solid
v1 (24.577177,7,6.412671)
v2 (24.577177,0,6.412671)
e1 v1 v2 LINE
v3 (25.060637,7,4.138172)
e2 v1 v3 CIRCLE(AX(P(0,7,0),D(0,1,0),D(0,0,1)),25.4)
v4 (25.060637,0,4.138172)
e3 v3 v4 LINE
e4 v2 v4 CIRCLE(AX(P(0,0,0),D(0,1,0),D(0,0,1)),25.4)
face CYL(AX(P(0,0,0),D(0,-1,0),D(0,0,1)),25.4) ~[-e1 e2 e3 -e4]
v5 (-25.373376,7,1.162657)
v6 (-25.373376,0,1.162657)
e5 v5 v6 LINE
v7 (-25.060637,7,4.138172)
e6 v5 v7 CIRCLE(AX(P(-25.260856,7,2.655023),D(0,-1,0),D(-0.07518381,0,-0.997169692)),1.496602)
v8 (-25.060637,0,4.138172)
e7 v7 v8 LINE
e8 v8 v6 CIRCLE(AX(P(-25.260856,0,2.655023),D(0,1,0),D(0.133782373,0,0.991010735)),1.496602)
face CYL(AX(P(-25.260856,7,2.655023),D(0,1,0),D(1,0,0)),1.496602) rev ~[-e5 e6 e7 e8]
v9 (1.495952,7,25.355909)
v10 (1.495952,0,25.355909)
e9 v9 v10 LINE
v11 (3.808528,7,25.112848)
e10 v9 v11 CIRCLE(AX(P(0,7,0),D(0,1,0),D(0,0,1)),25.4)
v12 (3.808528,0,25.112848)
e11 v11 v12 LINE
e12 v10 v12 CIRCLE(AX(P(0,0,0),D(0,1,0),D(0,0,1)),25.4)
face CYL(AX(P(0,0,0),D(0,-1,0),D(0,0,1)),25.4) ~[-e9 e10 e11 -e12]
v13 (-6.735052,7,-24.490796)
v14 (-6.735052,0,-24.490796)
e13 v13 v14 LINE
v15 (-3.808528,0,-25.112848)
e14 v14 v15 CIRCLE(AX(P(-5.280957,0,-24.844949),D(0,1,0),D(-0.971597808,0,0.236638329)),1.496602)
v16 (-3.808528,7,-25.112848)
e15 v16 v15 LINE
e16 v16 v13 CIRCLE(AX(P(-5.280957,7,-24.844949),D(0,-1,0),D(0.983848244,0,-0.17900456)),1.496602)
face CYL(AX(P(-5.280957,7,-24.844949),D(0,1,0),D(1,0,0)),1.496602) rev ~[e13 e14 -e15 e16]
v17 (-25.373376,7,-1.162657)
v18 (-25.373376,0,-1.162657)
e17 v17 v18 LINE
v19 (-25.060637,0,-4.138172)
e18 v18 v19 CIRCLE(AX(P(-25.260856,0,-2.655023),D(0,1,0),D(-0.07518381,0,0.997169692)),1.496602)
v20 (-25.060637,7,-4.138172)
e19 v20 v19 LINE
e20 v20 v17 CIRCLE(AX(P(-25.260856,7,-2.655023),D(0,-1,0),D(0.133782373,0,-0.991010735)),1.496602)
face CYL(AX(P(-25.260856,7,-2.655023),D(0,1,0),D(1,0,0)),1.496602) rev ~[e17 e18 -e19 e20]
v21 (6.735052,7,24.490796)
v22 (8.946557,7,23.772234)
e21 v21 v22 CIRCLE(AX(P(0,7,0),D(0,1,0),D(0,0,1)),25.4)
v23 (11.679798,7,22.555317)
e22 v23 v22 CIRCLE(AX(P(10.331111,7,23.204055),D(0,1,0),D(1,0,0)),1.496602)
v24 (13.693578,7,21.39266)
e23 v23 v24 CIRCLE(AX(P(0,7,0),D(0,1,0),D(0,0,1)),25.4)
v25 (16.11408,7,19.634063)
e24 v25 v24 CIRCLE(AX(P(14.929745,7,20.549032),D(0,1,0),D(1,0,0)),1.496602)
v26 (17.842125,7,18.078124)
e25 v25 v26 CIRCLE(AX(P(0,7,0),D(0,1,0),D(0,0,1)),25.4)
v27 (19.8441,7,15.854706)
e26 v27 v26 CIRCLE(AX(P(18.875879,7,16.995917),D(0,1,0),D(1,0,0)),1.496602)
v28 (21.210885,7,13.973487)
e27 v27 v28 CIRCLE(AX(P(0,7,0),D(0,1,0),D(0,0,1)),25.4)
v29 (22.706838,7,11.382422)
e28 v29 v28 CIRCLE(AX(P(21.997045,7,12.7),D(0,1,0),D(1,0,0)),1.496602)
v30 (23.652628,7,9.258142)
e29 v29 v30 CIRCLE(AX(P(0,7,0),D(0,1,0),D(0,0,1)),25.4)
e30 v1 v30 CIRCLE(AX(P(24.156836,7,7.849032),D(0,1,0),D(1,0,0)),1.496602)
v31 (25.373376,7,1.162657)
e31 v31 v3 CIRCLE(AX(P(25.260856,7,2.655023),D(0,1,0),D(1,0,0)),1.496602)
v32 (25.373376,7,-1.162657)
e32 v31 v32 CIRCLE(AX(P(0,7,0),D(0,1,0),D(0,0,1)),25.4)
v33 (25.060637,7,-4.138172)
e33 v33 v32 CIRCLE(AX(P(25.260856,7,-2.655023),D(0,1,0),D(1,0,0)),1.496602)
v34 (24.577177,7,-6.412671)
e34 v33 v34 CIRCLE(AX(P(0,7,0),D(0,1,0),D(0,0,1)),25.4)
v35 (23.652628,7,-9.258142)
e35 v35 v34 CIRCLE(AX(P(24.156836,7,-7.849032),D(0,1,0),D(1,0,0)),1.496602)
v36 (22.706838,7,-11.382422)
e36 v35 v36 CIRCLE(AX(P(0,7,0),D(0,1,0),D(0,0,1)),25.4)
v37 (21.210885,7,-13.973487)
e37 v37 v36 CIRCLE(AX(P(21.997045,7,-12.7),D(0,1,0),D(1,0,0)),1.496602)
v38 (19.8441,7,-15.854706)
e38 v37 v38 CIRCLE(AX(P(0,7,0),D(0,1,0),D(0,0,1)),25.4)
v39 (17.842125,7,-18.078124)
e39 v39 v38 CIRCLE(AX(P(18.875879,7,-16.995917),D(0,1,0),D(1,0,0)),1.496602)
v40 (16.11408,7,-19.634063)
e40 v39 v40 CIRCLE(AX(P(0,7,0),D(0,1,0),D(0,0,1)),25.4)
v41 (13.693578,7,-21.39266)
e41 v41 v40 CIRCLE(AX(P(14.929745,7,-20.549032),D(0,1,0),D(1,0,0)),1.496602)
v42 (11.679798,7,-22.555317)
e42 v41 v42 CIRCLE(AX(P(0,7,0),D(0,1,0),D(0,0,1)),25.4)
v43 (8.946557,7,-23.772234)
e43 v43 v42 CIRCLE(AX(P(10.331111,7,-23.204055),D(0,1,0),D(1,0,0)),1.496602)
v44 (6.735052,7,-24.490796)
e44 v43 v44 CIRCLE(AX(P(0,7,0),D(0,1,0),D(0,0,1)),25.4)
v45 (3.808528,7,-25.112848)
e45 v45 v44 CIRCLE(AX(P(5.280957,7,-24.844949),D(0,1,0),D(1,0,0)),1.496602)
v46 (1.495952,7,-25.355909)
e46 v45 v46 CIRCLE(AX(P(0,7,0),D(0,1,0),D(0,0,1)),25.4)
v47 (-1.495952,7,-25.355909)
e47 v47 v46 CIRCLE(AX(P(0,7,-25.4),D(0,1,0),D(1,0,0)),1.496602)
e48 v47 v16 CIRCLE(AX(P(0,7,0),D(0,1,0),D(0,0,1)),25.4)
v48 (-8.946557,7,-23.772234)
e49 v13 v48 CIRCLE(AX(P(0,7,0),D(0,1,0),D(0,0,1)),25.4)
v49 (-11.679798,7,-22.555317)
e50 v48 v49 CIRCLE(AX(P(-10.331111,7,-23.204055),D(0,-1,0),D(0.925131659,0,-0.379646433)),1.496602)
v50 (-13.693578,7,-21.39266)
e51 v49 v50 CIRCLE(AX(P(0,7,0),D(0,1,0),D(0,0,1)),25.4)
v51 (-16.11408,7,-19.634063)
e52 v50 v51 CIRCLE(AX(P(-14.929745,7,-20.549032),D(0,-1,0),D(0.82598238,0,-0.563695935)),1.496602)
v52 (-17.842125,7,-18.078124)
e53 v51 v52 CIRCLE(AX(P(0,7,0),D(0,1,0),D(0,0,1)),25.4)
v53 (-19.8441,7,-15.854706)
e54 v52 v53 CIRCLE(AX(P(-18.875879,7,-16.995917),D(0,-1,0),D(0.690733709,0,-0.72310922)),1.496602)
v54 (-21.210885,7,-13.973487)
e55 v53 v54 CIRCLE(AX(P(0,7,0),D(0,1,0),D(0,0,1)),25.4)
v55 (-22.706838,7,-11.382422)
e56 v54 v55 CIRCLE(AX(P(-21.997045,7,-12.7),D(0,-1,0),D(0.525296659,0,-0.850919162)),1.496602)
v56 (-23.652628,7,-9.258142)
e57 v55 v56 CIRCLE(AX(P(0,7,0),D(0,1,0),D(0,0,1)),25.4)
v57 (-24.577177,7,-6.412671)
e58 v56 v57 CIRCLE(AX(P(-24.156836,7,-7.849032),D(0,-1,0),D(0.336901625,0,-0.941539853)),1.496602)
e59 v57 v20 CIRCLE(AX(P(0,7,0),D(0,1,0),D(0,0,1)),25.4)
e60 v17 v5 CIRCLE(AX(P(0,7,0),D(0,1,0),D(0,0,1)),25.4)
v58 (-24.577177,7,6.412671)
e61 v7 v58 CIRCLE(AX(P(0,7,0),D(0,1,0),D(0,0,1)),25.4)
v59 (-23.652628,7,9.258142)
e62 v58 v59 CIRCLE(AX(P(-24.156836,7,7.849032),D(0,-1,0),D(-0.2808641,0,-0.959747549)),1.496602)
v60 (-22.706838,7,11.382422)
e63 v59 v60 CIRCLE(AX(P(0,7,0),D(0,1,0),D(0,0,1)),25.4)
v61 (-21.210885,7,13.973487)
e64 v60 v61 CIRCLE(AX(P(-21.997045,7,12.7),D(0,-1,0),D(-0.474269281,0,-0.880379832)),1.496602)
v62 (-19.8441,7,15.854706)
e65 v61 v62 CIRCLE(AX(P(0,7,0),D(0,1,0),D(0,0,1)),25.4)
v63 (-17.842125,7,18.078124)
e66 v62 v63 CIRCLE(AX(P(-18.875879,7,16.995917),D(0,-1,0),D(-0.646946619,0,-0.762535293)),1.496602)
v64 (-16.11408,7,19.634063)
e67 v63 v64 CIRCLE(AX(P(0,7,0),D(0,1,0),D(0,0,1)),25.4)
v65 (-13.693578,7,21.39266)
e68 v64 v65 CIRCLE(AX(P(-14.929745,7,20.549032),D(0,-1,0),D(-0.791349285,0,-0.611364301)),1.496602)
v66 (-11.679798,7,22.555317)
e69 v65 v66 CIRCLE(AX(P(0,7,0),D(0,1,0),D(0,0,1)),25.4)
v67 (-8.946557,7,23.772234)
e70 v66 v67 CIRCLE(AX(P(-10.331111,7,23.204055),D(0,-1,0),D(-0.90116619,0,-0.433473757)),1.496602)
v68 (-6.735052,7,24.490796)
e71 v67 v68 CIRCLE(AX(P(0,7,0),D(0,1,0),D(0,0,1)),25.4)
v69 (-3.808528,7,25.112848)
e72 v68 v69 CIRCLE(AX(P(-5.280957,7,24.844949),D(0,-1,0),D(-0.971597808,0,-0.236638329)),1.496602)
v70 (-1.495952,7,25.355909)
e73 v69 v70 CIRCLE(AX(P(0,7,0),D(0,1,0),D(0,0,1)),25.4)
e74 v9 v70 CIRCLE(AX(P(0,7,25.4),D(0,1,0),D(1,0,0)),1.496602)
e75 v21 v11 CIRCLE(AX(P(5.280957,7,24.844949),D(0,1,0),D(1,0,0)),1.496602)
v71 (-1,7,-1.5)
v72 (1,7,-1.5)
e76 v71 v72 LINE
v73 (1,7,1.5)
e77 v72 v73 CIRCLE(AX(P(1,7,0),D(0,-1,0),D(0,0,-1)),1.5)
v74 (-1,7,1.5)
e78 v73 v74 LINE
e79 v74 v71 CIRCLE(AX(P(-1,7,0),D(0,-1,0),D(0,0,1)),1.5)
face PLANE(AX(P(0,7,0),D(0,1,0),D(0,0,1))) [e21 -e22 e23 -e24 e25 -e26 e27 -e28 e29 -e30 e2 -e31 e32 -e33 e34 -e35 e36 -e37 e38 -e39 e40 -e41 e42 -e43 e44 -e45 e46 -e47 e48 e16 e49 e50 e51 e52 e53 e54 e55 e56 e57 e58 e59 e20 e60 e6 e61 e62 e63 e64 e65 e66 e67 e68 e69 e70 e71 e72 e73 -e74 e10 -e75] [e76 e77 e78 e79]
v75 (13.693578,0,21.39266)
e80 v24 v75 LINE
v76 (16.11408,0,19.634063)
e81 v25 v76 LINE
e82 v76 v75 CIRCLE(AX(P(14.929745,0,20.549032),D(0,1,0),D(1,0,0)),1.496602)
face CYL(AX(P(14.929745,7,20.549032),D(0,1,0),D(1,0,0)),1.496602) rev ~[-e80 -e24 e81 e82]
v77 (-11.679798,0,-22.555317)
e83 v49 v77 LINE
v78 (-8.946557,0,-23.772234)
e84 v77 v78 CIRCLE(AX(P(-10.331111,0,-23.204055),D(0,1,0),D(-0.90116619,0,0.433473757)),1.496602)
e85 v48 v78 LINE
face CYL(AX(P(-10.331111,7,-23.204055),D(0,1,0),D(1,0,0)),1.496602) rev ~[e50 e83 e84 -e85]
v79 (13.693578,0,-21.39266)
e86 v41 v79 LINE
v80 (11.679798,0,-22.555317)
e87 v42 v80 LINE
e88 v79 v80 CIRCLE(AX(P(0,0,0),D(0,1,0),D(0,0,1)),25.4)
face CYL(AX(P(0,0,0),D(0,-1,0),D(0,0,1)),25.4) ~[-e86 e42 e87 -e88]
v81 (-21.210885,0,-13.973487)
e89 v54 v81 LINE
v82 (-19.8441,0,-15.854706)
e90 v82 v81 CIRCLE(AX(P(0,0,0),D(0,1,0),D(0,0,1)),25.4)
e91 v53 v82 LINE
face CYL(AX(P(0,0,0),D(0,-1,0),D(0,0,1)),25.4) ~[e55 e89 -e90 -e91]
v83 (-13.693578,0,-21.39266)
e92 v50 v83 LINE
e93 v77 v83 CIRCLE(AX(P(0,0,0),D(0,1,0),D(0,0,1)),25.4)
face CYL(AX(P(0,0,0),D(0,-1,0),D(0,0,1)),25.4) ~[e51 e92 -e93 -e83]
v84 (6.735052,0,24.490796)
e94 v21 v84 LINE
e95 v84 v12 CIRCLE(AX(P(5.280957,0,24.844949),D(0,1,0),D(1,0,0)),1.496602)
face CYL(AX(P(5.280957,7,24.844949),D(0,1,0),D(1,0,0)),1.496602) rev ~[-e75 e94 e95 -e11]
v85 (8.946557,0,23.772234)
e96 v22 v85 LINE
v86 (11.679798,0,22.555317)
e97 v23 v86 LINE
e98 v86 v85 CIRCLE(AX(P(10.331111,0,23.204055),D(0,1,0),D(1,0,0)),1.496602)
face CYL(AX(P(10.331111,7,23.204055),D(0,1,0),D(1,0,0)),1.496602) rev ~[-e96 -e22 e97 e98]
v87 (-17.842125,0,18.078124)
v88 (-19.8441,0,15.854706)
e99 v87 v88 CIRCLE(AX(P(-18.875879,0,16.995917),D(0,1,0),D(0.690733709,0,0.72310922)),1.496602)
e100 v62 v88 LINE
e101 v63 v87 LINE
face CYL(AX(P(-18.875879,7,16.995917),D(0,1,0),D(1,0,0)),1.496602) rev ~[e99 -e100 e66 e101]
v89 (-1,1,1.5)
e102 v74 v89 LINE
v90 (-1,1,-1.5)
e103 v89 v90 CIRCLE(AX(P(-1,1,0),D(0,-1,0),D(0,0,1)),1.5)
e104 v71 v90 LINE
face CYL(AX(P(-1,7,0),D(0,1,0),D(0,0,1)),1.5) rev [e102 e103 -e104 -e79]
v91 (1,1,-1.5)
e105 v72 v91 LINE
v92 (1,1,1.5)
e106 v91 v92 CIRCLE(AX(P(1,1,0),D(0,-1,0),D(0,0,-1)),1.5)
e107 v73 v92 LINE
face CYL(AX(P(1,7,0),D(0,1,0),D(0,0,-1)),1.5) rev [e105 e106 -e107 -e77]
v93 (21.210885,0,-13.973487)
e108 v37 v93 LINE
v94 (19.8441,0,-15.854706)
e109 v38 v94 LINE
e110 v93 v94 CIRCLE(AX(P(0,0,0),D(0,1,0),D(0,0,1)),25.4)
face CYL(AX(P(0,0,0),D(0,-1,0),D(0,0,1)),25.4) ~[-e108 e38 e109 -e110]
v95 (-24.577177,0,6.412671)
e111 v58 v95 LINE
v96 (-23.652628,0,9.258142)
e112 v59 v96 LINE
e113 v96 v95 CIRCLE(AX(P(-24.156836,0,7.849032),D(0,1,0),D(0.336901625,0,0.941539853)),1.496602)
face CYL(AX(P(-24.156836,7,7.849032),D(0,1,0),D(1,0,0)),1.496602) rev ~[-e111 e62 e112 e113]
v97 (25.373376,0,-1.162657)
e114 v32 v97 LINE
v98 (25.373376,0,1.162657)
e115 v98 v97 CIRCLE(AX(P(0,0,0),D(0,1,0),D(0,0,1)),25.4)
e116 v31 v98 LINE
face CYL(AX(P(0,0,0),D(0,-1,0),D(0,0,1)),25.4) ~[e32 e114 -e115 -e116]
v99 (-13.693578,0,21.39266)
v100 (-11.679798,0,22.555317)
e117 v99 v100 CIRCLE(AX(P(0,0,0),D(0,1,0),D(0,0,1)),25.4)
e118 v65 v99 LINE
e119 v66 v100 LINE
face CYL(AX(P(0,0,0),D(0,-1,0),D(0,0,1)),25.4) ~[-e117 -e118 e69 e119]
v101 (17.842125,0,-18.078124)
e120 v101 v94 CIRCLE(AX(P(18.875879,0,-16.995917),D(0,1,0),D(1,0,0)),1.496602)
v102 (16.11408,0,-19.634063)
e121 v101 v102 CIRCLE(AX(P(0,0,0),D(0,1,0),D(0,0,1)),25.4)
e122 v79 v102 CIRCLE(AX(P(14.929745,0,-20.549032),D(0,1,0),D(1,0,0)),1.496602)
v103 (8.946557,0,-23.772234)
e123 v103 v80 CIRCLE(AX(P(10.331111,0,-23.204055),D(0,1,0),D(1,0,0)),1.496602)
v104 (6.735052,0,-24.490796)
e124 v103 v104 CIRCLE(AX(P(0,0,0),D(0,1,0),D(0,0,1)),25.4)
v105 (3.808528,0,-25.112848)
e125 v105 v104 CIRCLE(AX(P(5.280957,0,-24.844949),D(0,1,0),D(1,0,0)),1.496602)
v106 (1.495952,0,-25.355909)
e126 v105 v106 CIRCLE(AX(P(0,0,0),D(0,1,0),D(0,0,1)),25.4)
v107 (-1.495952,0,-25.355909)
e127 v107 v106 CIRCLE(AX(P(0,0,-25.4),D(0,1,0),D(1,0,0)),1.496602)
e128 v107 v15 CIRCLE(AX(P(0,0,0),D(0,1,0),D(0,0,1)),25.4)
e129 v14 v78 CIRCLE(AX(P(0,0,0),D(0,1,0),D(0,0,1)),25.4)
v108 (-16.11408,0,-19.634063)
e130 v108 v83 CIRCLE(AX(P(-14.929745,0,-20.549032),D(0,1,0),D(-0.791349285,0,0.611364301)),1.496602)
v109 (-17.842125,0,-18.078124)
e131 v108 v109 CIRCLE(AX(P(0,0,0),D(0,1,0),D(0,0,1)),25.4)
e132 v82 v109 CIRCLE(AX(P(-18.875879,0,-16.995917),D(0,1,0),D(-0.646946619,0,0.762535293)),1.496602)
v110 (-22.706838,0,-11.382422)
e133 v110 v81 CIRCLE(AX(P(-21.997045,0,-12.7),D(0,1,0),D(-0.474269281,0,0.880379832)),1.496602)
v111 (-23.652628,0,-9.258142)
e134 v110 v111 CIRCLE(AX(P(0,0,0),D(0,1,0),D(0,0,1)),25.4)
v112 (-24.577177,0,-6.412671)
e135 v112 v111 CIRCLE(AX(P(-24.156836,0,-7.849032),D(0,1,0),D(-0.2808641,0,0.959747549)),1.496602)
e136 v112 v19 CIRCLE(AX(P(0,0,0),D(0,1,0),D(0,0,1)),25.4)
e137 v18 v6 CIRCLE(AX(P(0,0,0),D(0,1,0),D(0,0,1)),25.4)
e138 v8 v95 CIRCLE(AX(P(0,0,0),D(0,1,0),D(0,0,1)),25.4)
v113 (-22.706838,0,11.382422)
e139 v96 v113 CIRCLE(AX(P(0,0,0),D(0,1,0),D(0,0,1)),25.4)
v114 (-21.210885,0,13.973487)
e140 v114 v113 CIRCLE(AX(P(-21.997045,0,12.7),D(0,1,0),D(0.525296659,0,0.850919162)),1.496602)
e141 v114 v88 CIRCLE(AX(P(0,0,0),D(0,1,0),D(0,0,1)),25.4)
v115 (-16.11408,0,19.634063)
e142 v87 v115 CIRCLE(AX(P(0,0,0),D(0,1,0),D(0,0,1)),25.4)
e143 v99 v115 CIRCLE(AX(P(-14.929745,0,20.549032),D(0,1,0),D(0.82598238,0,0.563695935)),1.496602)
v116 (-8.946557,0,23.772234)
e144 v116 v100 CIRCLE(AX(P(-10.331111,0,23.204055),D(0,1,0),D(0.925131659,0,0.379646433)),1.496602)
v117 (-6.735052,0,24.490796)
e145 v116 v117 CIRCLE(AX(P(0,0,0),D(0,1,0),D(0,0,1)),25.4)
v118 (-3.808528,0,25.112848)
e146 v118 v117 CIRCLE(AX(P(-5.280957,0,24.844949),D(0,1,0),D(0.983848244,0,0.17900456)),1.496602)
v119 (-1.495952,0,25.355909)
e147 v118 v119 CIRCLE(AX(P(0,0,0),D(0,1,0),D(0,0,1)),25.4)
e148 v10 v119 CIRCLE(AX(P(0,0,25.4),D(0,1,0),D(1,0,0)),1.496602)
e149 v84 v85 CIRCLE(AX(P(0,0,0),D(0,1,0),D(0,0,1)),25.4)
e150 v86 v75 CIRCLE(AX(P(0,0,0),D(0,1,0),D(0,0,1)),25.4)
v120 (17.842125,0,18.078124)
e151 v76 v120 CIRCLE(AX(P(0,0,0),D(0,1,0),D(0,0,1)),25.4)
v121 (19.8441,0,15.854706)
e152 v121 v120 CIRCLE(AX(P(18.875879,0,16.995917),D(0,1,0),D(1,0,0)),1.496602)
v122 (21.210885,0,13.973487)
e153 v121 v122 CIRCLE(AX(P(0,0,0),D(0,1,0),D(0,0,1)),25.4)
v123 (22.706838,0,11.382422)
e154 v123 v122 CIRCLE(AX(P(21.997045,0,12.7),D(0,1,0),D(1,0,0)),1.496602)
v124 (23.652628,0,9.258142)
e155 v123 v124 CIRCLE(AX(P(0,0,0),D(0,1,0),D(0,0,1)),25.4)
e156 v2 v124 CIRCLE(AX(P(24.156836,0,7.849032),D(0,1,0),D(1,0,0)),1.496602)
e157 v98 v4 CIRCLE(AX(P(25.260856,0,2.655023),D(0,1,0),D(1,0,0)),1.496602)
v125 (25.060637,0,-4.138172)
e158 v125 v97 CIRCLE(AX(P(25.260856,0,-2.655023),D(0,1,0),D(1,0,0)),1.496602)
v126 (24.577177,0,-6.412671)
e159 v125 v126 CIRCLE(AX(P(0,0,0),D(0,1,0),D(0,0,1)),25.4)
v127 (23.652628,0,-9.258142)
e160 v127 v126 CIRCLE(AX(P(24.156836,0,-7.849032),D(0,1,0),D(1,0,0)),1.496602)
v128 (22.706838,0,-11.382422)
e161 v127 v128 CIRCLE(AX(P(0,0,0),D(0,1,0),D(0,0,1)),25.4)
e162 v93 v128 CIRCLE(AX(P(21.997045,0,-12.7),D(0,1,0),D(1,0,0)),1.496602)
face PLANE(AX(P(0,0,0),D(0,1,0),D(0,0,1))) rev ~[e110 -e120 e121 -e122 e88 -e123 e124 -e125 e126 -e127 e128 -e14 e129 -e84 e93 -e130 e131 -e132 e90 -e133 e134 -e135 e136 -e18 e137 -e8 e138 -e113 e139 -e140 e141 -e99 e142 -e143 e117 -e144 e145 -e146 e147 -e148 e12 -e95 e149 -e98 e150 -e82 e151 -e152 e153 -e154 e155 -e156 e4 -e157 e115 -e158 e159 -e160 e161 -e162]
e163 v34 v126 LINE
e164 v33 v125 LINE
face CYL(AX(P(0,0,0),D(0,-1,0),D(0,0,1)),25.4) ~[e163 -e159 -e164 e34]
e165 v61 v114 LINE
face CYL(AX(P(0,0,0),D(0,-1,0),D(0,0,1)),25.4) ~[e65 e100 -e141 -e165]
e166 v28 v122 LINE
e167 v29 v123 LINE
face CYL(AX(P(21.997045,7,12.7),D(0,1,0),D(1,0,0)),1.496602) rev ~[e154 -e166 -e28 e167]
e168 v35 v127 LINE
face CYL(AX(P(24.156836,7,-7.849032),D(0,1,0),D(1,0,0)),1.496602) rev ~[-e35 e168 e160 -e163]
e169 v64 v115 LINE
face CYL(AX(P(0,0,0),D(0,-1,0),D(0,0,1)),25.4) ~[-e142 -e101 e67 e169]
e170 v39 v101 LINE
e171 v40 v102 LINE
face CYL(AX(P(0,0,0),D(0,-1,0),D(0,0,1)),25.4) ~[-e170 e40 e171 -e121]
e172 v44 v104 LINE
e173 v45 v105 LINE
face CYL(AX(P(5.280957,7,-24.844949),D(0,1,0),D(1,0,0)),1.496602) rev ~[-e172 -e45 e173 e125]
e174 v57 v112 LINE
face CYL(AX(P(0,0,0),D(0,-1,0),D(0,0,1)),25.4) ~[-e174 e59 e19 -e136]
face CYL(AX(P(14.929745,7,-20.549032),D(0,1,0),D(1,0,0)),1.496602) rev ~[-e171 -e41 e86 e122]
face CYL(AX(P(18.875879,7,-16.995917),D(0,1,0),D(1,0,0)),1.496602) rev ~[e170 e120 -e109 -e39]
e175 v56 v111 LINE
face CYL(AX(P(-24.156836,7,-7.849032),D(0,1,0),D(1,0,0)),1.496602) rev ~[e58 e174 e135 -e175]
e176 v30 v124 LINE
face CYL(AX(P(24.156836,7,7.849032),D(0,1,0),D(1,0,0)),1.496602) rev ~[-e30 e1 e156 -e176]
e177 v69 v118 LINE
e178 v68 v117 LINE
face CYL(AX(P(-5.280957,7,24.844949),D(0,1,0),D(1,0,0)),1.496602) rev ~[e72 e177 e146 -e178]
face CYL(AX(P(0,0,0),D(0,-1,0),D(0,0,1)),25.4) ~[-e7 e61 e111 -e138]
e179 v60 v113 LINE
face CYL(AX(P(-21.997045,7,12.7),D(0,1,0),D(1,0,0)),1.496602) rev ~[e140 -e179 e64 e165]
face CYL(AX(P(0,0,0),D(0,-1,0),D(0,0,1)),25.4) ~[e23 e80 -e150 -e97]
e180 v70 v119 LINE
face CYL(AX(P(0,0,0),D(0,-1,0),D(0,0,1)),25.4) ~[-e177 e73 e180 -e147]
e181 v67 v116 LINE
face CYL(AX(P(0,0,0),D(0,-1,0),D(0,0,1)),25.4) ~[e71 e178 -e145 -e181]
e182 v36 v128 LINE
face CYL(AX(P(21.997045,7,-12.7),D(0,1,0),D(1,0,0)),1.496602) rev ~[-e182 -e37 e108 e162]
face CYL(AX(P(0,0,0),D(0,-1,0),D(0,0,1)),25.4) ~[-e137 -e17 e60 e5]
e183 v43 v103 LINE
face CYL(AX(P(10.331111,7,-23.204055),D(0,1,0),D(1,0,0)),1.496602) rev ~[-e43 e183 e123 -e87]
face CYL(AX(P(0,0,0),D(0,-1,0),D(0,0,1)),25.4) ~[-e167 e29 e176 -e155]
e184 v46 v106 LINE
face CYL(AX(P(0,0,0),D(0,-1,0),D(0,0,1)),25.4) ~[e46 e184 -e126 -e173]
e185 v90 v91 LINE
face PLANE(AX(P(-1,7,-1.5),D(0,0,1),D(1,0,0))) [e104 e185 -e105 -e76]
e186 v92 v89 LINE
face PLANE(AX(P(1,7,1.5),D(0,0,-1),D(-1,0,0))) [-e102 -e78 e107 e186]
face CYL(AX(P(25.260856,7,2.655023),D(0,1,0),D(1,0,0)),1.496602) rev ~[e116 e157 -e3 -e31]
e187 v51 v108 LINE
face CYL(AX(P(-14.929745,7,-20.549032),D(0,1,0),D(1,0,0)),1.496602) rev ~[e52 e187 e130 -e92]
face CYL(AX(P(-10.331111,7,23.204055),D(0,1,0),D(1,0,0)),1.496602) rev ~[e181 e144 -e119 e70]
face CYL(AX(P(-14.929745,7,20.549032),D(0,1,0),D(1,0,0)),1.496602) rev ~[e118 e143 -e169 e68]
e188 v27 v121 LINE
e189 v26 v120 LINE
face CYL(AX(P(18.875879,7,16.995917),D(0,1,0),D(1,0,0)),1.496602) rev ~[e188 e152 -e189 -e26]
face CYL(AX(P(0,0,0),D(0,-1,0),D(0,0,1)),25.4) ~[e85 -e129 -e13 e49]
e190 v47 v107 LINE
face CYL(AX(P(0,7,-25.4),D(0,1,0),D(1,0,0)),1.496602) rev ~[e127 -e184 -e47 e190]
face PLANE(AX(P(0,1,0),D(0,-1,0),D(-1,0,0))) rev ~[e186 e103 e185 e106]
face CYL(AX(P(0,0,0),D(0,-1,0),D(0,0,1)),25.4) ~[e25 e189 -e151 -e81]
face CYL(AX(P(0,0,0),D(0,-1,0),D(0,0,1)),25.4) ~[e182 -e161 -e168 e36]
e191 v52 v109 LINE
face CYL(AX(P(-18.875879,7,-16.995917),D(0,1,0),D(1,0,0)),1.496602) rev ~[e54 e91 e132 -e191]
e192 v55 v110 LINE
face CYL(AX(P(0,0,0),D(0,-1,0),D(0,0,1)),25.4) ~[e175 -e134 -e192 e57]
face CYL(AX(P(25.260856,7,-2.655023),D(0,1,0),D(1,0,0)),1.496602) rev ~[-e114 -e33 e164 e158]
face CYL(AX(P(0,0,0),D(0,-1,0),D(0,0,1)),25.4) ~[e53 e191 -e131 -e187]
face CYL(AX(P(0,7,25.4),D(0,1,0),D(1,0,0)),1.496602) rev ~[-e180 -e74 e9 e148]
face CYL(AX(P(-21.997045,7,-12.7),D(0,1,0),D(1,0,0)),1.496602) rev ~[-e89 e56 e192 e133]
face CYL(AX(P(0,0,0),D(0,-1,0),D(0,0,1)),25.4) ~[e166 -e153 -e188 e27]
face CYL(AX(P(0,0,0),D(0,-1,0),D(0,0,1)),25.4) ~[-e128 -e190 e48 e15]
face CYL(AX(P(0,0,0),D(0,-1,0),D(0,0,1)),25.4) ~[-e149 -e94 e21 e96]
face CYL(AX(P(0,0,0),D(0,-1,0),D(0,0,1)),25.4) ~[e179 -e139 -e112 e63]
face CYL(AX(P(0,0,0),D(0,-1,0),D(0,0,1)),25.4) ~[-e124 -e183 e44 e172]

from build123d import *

# Parameters (mm, degrees)
SKETCH1_R           = 25.4
BOSS_EXTRUDE1_DEPTH = 7
CUT_EXTRUDE1_DEPTH  = 6
SKETCH4_R           = 1.496602071
CUT_EXTRUDE2_DEPTH  = 37.596721165


with BuildPart() as part:
    # Sketch1 → Boss-Extrude1 (new body)
    with BuildSketch(Plane(origin=(0, 0, 0), x_dir=(1, 0, 0), z_dir=(0, 1, 0))):
        with Locations(Location((0, 0, 0), (0, 0, 270))):
            Circle(SKETCH1_R)
    extrude(amount=BOSS_EXTRUDE1_DEPTH)

    # Sketch3 → Cut-Extrude1 (cut)
    with BuildSketch(Plane(origin=(0, 7, 0), x_dir=(1, 0, 0), z_dir=(0, 1, 0))):
        with BuildLine():
            Line((-1, 1.5), (1, 1.5))
            ThreePointArc((1, 1.5), (2.5, 0), (1, -1.5))
            Line((1, -1.5), (-1, -1.5))
            ThreePointArc((-1, -1.5), (-2.5, 0), (-1, 1.5))
        make_face()
    extrude(amount=-CUT_EXTRUDE1_DEPTH, mode=Mode.SUBTRACT)

    # Sketch4 → Cut-Extrude2 (cut, through all)
    with BuildSketch(Plane(origin=(0, 7, 0), x_dir=(1, 0, 0), z_dir=(0, 1, 0))):
        with Locations((0, 25.4)):
            Circle(SKETCH4_R)
        with Locations((5.280956947, 24.844949059)):
            Circle(SKETCH4_R)
        with Locations((10.331110734, 23.204054624)):
            Circle(SKETCH4_R)
        with Locations((14.929745408, 20.549031657)):
            Circle(SKETCH4_R)
        with Locations((18.875878567, 16.995917402)):
            Circle(SKETCH4_R)
        with Locations((21.997045256, 12.7)):
            Circle(SKETCH4_R)
        with Locations((24.156835514, 7.849031657)):
            Circle(SKETCH4_R)
        with Locations((25.260856142, 2.655022967)):
            Circle(SKETCH4_R)
        with Locations((25.260856142, -2.655022967)):
            Circle(SKETCH4_R)
        with Locations((24.156835514, -7.849031657)):
            Circle(SKETCH4_R)
        with Locations((21.997045256, -12.7)):
            Circle(SKETCH4_R)
        with Locations((18.875878567, -16.995917402)):
            Circle(SKETCH4_R)
        with Locations((14.929745408, -20.549031657)):
            Circle(SKETCH4_R)
        with Locations((10.331110734, -23.204054624)):
            Circle(SKETCH4_R)
        with Locations((5.280956947, -24.844949059)):
            Circle(SKETCH4_R)
        with Locations((0, -25.4)):
            Circle(SKETCH4_R)
        with Locations((-5.280956947, -24.844949059)):
            Circle(SKETCH4_R)
        with Locations((-10.331110734, -23.204054624)):
            Circle(SKETCH4_R)
        with Locations((-14.929745408, -20.549031657)):
            Circle(SKETCH4_R)
        with Locations((-18.875878567, -16.995917402)):
            Circle(SKETCH4_R)
        with Locations((-21.997045256, -12.7)):
            Circle(SKETCH4_R)
        with Locations((-24.156835514, -7.849031657)):
            Circle(SKETCH4_R)
        with Locations((-25.260856142, -2.655022967)):
            Circle(SKETCH4_R)
        with Locations((-25.260856142, 2.655022967)):
            Circle(SKETCH4_R)
        with Locations((-24.156835514, 7.849031657)):
            Circle(SKETCH4_R)
        with Locations((-21.997045256, 12.7)):
            Circle(SKETCH4_R)
        with Locations((-18.875878567, 16.995917402)):
            Circle(SKETCH4_R)
        with Locations((-14.929745408, 20.549031657)):
            Circle(SKETCH4_R)
        with Locations((-10.331110734, 23.204054624)):
            Circle(SKETCH4_R)
        with Locations((-5.280956947, 24.844949059)):
            Circle(SKETCH4_R)
    extrude(amount=-CUT_EXTRUDE2_DEPTH, mode=Mode.SUBTRACT)


solid = part.part
